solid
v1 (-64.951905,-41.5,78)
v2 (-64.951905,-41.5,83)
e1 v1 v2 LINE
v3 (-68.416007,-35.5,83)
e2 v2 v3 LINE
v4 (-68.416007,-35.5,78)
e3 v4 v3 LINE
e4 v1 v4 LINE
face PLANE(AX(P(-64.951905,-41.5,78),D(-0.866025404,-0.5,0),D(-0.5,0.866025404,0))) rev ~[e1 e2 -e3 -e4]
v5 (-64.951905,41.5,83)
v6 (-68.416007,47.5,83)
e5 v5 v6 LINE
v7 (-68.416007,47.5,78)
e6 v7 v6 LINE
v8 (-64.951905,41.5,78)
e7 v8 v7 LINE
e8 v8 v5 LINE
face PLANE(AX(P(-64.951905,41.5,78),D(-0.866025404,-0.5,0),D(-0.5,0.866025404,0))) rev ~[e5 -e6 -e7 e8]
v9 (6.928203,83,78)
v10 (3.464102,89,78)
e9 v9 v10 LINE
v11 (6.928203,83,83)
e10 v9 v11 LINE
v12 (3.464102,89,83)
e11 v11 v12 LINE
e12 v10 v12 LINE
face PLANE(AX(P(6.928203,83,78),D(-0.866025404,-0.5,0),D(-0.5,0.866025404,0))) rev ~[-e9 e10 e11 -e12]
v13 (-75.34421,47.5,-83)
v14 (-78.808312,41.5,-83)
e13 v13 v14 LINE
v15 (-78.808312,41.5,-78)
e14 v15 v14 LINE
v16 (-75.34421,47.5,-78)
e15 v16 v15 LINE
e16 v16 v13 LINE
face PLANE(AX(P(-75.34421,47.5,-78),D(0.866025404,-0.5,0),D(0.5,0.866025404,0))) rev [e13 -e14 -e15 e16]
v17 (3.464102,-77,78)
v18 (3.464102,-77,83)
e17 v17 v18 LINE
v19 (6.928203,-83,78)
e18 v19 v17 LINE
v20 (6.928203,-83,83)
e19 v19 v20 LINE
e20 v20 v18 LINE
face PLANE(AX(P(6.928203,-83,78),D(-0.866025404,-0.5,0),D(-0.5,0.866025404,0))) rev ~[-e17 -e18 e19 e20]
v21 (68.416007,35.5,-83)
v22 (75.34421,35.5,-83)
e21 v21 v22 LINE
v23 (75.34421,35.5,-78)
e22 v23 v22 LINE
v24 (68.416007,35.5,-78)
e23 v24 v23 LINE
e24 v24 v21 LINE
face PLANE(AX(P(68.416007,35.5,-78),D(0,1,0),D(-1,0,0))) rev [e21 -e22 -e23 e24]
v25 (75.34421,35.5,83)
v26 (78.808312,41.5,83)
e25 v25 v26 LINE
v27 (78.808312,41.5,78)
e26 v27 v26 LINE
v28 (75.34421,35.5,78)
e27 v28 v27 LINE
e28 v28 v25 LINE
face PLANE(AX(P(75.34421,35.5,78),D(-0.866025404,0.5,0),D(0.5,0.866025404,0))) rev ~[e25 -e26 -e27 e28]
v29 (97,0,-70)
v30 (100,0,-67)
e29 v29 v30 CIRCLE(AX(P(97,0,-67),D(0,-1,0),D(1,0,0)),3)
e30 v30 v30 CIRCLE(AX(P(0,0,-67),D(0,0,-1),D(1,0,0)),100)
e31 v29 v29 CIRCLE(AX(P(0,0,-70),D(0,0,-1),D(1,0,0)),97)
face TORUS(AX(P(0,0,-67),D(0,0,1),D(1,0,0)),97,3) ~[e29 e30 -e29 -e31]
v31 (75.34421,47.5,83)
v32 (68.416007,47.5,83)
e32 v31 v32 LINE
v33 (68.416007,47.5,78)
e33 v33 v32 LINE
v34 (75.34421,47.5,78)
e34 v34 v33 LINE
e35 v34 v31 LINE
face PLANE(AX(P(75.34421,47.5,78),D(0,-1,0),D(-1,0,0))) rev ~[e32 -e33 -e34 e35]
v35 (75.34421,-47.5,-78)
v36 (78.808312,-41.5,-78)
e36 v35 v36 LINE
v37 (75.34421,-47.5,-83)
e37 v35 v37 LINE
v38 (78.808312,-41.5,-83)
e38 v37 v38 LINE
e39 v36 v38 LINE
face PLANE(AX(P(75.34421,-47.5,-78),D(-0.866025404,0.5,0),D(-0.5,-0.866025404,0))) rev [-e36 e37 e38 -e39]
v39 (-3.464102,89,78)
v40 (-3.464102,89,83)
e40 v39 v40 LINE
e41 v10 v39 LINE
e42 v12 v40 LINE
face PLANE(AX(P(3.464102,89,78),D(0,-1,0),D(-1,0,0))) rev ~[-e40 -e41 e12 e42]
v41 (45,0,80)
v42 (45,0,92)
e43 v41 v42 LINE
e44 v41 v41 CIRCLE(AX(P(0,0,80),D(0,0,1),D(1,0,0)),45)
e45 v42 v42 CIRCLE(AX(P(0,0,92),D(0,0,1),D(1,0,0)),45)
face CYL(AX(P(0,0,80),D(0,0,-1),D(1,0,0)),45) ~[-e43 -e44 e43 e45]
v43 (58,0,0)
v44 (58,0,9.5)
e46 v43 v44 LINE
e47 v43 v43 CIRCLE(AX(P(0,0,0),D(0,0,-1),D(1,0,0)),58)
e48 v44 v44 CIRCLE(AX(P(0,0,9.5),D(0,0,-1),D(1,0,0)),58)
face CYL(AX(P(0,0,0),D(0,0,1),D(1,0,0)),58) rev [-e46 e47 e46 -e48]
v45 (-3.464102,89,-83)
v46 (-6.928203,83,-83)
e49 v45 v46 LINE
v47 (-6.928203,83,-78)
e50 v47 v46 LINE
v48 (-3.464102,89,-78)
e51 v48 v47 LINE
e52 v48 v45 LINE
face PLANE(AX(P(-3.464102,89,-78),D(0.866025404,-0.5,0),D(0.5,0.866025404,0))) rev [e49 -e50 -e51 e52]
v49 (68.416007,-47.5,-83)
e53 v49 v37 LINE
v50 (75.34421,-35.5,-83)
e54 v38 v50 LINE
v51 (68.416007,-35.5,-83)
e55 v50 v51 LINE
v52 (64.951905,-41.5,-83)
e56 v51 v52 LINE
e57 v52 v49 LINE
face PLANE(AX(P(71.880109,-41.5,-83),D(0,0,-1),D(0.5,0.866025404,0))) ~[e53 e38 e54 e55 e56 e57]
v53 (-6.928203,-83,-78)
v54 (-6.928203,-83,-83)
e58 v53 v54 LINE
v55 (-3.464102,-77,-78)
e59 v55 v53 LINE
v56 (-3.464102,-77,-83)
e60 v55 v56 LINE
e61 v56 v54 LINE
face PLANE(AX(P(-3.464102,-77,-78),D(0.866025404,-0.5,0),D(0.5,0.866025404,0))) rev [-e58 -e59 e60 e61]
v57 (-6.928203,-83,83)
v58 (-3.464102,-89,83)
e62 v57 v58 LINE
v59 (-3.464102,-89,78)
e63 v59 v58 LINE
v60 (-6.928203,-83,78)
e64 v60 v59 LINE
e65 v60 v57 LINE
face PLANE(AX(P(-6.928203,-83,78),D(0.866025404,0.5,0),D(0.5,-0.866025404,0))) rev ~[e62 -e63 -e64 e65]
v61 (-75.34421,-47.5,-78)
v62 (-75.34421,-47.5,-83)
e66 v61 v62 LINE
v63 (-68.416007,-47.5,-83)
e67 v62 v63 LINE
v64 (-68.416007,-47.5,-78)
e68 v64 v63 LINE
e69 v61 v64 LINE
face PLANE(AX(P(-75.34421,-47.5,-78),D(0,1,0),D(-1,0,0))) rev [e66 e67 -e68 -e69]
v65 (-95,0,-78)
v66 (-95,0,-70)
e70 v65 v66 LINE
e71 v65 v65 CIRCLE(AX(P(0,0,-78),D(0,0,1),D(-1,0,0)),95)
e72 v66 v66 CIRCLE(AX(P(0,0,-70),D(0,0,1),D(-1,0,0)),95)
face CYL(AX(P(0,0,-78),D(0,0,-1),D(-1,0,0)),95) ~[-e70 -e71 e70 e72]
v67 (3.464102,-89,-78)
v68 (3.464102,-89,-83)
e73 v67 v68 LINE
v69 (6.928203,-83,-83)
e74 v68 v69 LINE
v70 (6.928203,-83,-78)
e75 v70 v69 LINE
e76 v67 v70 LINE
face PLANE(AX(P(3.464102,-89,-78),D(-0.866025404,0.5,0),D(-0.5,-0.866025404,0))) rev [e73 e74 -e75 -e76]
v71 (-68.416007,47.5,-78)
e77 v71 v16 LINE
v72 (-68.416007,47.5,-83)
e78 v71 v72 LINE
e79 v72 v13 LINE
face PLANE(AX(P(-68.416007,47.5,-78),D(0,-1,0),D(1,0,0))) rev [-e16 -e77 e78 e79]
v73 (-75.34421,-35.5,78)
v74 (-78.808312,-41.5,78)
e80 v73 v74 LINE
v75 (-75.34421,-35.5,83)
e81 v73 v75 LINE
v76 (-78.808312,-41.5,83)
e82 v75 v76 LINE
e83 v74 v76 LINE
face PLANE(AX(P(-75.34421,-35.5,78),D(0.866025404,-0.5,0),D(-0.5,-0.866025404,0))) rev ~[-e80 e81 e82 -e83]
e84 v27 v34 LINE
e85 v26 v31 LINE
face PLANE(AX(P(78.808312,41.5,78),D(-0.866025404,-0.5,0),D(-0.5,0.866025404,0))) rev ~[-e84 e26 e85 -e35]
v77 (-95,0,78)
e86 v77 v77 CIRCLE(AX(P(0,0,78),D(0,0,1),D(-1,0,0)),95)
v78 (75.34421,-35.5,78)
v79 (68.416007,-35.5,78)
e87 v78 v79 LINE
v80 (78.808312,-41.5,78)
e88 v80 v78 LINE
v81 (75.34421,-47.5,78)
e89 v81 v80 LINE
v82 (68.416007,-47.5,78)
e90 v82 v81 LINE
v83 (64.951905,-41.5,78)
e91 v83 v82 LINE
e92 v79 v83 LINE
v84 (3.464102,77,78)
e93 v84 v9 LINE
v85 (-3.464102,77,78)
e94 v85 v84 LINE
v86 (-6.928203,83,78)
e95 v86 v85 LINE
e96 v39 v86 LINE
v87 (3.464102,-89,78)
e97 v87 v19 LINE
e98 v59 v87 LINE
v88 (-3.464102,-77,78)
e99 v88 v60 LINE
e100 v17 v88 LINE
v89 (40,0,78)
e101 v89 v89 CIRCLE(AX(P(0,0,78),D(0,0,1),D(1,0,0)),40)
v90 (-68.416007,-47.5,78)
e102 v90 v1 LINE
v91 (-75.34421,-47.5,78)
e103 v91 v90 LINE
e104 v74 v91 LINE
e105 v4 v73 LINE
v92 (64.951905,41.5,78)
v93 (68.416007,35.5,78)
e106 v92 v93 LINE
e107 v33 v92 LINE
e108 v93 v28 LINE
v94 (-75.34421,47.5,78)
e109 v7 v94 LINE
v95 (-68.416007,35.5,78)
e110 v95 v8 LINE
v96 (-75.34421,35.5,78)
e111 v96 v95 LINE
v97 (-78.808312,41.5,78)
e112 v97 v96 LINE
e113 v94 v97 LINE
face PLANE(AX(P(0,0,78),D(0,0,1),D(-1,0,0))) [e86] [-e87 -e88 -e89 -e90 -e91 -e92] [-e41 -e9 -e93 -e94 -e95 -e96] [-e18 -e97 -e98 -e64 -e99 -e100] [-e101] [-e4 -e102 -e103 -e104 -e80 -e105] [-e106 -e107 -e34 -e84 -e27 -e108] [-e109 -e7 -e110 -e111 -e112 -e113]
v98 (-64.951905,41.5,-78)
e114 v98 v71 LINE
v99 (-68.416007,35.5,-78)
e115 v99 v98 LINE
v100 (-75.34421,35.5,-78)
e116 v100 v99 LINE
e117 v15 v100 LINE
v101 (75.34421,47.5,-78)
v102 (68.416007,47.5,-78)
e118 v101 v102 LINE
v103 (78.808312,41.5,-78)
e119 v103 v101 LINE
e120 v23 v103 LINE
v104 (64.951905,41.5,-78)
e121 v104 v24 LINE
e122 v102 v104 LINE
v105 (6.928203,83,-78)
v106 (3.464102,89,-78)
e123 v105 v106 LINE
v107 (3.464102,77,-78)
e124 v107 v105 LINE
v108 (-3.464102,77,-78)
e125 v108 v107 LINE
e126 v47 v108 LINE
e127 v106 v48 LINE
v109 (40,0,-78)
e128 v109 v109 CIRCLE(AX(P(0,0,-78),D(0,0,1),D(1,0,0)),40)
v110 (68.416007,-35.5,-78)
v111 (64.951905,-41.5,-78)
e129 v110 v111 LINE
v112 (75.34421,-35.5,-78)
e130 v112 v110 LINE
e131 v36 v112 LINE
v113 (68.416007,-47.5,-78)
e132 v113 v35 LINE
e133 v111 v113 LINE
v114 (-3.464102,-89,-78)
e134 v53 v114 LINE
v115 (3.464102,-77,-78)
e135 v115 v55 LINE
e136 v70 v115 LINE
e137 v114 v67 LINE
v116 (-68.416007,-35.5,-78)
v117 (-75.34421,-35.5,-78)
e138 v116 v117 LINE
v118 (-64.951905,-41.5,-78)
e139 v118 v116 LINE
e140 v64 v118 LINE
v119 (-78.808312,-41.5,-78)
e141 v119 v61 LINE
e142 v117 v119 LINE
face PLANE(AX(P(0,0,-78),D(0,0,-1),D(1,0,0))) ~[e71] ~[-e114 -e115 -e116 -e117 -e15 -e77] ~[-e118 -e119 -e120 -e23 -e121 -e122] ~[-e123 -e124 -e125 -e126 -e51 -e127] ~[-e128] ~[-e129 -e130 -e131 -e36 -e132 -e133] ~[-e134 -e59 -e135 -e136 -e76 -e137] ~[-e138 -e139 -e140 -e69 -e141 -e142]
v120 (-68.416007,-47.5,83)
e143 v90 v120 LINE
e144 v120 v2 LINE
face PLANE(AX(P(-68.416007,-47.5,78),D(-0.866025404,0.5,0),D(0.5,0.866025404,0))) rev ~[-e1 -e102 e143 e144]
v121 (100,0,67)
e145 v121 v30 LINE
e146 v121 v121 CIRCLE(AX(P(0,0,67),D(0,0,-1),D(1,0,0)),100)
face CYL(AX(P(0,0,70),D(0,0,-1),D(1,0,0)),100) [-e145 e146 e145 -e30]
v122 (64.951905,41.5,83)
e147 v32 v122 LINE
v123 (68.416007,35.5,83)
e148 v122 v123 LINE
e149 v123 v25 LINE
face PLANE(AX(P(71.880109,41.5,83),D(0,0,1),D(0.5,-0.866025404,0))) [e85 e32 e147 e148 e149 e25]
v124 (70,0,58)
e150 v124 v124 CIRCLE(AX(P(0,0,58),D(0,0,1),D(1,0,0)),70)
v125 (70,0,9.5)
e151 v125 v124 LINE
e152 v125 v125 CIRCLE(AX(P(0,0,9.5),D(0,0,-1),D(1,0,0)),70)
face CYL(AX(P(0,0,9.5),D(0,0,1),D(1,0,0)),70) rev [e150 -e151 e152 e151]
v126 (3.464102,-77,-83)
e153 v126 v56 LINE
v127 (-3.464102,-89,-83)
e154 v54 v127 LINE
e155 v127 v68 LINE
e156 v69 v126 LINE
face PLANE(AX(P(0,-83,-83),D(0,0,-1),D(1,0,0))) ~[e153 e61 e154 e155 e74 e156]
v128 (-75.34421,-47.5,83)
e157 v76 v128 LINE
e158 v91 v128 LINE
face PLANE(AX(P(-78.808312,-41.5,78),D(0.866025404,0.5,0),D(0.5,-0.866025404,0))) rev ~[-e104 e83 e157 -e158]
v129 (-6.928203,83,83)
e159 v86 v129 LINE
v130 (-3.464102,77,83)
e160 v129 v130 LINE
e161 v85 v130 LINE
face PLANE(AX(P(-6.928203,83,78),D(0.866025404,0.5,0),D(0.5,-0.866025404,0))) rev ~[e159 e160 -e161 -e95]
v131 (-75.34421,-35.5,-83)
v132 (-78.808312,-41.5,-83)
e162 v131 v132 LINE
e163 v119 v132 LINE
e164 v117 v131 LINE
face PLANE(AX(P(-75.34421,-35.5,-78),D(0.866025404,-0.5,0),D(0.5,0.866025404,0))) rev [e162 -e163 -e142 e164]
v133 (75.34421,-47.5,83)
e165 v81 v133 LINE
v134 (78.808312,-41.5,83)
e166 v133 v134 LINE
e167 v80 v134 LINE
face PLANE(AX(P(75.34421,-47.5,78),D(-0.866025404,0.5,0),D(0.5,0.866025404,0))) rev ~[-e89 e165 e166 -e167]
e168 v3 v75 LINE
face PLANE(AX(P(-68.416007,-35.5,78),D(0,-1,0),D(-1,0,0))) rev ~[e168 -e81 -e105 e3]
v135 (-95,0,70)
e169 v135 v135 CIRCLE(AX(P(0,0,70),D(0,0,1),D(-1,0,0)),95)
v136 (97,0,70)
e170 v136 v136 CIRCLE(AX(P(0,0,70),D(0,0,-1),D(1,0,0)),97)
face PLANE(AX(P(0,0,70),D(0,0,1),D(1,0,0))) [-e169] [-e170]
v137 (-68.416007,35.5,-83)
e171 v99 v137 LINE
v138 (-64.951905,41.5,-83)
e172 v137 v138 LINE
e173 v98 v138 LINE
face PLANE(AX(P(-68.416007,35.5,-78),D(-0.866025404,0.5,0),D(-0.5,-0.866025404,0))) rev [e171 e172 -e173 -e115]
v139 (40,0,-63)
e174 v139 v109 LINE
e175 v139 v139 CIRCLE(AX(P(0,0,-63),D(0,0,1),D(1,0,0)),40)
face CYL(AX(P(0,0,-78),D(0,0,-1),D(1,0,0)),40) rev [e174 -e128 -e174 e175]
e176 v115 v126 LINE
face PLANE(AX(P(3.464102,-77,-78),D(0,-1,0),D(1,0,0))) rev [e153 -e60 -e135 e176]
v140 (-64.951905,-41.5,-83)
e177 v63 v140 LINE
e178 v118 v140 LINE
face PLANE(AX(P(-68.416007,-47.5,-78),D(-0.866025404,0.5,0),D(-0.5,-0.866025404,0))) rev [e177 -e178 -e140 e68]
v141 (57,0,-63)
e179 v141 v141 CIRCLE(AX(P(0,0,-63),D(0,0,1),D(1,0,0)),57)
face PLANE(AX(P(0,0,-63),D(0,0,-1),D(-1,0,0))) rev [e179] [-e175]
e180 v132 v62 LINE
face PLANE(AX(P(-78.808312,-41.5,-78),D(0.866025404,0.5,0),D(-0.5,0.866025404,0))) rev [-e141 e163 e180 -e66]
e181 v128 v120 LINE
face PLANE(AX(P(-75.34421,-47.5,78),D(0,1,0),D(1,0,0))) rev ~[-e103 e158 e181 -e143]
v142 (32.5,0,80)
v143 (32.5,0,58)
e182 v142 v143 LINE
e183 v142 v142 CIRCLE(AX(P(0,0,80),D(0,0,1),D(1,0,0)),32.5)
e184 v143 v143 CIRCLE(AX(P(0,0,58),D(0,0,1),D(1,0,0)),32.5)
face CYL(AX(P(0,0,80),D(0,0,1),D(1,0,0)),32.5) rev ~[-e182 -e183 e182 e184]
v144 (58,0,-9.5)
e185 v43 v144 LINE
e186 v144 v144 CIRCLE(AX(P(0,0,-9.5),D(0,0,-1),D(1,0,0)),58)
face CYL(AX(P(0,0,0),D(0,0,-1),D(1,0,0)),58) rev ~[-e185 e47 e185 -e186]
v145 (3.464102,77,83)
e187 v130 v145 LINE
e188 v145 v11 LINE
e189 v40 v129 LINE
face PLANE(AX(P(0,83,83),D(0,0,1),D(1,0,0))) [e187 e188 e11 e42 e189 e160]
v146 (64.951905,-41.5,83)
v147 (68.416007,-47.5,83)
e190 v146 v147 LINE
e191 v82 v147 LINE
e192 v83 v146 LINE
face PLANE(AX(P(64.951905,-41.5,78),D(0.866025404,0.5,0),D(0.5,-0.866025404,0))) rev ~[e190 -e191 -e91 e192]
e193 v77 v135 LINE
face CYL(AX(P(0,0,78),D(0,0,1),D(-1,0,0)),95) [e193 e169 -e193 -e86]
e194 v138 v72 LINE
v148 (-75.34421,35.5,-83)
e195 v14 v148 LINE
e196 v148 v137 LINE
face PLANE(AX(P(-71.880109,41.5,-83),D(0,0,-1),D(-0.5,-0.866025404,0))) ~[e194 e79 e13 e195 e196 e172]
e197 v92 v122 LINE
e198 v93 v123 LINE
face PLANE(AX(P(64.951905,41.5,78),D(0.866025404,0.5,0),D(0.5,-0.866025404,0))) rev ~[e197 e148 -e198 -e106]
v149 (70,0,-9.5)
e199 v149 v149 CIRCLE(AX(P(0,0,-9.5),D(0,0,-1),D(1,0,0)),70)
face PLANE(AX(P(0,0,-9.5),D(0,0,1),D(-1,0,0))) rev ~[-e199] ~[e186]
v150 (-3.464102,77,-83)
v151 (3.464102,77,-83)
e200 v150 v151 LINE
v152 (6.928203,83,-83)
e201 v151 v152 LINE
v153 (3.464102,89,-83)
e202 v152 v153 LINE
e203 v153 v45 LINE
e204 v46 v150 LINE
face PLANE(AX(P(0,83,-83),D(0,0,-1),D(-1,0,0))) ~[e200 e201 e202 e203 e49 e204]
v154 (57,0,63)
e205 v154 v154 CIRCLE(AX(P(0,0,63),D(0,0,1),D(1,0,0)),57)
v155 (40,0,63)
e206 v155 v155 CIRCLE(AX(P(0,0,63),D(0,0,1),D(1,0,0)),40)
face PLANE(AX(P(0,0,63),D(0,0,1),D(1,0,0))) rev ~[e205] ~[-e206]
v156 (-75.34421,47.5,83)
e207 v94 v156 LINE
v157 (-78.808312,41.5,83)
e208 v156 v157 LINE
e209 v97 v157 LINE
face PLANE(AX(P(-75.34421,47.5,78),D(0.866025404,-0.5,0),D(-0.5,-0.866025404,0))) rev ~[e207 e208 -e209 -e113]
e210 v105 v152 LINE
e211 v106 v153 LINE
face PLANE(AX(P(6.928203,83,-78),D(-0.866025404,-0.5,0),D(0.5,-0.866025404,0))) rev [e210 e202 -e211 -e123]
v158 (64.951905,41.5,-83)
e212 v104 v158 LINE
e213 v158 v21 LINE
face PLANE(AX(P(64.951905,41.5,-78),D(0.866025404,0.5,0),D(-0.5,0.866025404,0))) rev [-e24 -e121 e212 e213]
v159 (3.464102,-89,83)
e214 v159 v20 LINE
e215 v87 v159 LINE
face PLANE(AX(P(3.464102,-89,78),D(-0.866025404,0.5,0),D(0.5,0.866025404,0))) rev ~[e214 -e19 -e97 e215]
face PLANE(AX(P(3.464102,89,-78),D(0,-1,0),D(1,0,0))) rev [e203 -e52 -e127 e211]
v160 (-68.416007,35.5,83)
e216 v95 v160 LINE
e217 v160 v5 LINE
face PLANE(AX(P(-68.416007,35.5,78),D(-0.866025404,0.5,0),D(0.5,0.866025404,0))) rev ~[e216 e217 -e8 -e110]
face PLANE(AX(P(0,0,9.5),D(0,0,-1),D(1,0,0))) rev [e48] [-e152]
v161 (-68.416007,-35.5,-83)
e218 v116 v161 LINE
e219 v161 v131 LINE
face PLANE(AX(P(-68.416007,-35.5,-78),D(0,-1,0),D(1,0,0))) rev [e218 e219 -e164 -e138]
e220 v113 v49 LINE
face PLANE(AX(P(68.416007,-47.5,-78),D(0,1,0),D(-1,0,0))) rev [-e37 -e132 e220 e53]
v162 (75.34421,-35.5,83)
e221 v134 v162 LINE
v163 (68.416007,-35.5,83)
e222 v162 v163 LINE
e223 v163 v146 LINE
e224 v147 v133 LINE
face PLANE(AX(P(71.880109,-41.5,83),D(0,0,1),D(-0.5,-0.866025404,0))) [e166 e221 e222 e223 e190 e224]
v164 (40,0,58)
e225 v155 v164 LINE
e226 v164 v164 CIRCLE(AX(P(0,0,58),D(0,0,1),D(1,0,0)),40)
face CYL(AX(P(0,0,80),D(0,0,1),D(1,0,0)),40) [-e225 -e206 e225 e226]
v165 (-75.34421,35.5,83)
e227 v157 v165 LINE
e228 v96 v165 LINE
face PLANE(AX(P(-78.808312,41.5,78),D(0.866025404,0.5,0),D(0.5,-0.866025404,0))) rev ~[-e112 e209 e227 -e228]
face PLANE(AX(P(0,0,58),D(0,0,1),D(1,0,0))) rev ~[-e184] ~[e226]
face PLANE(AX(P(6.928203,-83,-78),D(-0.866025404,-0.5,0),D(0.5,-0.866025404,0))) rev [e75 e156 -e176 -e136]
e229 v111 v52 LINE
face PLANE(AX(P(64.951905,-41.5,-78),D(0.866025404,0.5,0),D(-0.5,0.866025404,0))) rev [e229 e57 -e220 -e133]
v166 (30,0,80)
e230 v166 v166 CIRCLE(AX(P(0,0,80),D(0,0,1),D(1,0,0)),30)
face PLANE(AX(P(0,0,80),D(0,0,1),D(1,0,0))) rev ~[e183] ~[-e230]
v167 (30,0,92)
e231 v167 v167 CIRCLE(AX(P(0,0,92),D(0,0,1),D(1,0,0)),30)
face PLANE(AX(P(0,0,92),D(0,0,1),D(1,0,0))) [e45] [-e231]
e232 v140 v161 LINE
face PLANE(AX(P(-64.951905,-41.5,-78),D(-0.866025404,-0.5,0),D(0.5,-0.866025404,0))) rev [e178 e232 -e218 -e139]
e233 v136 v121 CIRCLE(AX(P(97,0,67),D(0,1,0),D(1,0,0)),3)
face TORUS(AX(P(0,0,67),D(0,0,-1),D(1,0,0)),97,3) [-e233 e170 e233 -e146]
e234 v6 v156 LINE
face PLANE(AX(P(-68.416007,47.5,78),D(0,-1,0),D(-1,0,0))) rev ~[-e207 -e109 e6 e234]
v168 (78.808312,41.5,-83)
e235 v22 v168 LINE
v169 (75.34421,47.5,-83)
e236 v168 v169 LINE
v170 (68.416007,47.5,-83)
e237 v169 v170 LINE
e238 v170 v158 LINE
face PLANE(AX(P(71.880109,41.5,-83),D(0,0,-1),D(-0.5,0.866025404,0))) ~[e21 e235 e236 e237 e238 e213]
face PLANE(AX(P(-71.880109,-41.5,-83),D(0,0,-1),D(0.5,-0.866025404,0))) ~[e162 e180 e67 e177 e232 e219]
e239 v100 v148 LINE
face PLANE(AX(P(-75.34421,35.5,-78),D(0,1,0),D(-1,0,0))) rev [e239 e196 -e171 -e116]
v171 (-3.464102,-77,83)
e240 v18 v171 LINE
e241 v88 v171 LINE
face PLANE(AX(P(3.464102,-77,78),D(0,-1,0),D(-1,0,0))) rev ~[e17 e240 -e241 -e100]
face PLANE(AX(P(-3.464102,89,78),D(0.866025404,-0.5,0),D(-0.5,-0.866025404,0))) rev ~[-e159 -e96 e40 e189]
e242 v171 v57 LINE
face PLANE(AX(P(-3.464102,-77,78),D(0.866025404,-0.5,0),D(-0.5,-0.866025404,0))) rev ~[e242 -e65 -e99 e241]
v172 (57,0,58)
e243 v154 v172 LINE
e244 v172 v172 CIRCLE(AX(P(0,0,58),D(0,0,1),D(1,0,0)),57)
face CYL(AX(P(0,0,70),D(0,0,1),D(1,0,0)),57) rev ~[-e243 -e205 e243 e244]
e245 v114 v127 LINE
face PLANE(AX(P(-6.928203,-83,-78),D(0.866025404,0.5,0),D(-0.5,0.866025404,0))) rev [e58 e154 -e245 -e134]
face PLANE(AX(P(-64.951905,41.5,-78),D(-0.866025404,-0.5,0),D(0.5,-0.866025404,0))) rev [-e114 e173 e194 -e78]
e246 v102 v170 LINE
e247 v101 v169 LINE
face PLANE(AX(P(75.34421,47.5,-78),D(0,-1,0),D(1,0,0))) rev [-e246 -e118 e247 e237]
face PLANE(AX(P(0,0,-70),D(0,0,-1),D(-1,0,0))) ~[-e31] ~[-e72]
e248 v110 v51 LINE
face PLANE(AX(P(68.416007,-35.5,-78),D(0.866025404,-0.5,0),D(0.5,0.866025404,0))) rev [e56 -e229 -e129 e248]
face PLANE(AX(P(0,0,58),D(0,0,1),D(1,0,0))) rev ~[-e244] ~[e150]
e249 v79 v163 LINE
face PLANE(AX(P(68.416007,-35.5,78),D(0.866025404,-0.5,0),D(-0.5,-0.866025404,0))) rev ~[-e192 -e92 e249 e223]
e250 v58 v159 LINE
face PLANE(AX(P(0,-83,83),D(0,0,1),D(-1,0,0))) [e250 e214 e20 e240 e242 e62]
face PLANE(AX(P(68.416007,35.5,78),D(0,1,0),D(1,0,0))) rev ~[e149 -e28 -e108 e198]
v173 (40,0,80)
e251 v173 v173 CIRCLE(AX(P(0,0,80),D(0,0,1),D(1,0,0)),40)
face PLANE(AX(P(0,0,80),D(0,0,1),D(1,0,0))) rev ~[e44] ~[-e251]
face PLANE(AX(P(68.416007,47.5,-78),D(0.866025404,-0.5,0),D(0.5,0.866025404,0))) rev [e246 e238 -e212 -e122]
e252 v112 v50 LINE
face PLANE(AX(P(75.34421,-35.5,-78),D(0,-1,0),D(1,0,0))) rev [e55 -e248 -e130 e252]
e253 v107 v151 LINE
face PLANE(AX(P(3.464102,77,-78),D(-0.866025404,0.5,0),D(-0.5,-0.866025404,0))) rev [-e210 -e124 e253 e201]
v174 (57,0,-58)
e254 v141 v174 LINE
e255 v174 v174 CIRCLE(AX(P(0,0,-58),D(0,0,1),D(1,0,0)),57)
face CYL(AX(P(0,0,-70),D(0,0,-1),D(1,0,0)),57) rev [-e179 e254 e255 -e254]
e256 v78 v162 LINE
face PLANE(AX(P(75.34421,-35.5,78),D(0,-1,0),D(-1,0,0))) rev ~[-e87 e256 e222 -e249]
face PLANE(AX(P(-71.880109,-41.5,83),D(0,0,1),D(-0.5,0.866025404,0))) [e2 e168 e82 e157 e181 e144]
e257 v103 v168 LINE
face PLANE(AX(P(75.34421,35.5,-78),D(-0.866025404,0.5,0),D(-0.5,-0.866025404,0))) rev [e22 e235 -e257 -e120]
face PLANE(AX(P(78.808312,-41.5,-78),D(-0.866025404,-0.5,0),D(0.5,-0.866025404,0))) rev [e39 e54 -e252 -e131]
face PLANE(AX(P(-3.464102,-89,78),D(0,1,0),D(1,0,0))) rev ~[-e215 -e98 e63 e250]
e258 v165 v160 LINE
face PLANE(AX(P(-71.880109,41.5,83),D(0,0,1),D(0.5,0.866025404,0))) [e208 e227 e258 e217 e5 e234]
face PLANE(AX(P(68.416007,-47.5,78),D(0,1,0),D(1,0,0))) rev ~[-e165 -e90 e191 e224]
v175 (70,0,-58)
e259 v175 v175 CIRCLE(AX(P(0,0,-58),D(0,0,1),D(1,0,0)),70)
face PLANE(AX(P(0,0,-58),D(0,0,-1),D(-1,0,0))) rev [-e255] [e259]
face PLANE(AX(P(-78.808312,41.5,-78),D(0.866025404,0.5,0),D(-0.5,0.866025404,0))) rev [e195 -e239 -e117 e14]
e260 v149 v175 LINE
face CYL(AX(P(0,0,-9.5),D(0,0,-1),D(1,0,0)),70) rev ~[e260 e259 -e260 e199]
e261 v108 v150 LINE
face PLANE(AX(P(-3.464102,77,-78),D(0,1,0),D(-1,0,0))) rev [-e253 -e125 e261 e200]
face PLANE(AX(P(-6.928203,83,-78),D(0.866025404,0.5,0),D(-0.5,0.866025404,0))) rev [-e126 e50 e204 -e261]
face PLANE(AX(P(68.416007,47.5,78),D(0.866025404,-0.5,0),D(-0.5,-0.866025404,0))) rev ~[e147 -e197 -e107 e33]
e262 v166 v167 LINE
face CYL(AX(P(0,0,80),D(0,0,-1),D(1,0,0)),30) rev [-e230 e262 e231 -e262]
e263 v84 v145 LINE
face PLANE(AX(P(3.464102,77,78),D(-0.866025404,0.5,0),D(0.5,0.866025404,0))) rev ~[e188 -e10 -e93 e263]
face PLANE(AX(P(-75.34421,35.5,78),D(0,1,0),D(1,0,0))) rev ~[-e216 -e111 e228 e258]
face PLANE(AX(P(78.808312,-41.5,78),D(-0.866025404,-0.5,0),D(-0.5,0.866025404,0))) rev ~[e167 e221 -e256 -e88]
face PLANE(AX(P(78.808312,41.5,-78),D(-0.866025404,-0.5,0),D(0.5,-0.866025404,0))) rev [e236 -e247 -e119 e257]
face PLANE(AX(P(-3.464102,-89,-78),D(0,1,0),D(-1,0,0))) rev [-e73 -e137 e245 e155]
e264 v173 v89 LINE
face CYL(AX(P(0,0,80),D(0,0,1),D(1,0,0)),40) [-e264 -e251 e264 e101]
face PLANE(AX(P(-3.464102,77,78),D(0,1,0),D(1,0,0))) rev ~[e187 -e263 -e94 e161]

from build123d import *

# Parameters (mm, degrees)
SKETCH_2_R               = 70
SKETCH_2_R_2             = 57
EXTRUDE_1_DEPTH          = 12
SKETCH_3_R               = 57
SKETCH_3_R_2             = 40
EXTRUDE_2_DEPTH          = 7
EXTRUDE_START            = 8
SKETCH_4_R               = 95
SKETCH_4_R_2             = 40
EXTRUDE_3_DEPTH          = 8
EXTRUDE_4_DEPTH          = 5
PATTERN_CIRCULAR_2_COUNT = 6
FILLET_1_R               = 3
SKETCH_6_R               = 40
SKETCH_6_R_2             = 32.5
EXTRUDE_5_DEPTH          = 22
SKETCH_7_R               = 45
SKETCH_7_R_2             = 30
EXTRUDE_6_DEPTH          = 12


with BuildPart() as part:
    # 草图1 → 旋转2 (revolve)
    with BuildSketch(Plane(origin=(0, 0, 0), x_dir=(0, 0, -1), z_dir=(1, 0, 0)), mode=Mode.PRIVATE) as revolve_2_sk:
        Polygon((-70, 100), (0, 100), (0, 58), (-9.5, 58), (-9.5, 70), (-70, 70), align=None)
    revolve(revolve_2_sk.sketch.rotate(Axis((0, 0, 1000), (0, 0, -1)), 90), axis=Axis((0, 0, 1000), (0, 0, -1)))



with BuildPart() as body_2:
    # 草图2 → 凸台-拉伸1 (new body)
    with BuildSketch(Plane.XY.offset(70)):
        Circle(SKETCH_2_R)
        Circle(SKETCH_2_R_2, mode=Mode.SUBTRACT)
    extrude(amount=-EXTRUDE_1_DEPTH)


with BuildPart() as part_1:
    add(part.part)

    add(body_2.part)  # 凸台-拉伸2 merges body 2
    # 草图3 → 凸台-拉伸2 (add)
    with BuildSketch(Plane.XY.offset(70)):
        Circle(SKETCH_3_R)
        Circle(SKETCH_3_R_2, mode=Mode.SUBTRACT)
    extrude(amount=-EXTRUDE_2_DEPTH)

    # 草图4 → 凸台-拉伸3 (add)
    with BuildSketch(Plane.XY.offset(70).offset(EXTRUDE_START)):
        with Locations(Location((0, 0, 0), (0, 0, 180))):
            Circle(SKETCH_4_R)
        Circle(SKETCH_4_R_2, mode=Mode.SUBTRACT)
    extrude(amount=-EXTRUDE_3_DEPTH)

    # 草图5 → 凸台-拉伸4 (add)
    with BuildSketch(Plane.XY.offset(78)):
        Polygon((3.464101615, 77), (6.92820323, 83), (3.464101615, 89), (-3.464101615, 89), (-6.92820323, 83), (-3.464101615, 77), align=None)
    extrude_4 = extrude(amount=EXTRUDE_4_DEPTH)

    # 阵列(圆周)2: 凸台-拉伸4 ×6 about axis
    pattern_circular_2_axis = Axis((0, 0, 0), (0, 0, 1))
    for i in range(1, PATTERN_CIRCULAR_2_COUNT):
        add(extrude_4.rotate(pattern_circular_2_axis, i * 360 / PATTERN_CIRCULAR_2_COUNT))

    # 圆角1
    fillet_1_edges = [part_1.edges().sort_by_distance(p)[0] for p in [
        (-100, 0, 70),
    ]]
    fillet(fillet_1_edges, radius=FILLET_1_R)

    # 镜向8: part across plane


with BuildPart() as part_2:
    add(part_1.part)
    add(part_1.part.mirror(Plane(origin=(0, 100, 0), x_dir=(1, 0, 0), z_dir=(0, 0, 1))))

    # 草图6 → 凸台-拉伸5 (add)
    with BuildSketch(Plane.XY.offset(80)):
        Circle(SKETCH_6_R)
        Circle(SKETCH_6_R_2, mode=Mode.SUBTRACT)
    extrude(amount=-EXTRUDE_5_DEPTH)

    # 草图7 → 凸台-拉伸6 (add)
    with BuildSketch(Plane.XY.offset(80)):
        Circle(SKETCH_7_R)
        Circle(SKETCH_7_R_2, mode=Mode.SUBTRACT)
    extrude(amount=EXTRUDE_6_DEPTH)


solid = part_2.part
